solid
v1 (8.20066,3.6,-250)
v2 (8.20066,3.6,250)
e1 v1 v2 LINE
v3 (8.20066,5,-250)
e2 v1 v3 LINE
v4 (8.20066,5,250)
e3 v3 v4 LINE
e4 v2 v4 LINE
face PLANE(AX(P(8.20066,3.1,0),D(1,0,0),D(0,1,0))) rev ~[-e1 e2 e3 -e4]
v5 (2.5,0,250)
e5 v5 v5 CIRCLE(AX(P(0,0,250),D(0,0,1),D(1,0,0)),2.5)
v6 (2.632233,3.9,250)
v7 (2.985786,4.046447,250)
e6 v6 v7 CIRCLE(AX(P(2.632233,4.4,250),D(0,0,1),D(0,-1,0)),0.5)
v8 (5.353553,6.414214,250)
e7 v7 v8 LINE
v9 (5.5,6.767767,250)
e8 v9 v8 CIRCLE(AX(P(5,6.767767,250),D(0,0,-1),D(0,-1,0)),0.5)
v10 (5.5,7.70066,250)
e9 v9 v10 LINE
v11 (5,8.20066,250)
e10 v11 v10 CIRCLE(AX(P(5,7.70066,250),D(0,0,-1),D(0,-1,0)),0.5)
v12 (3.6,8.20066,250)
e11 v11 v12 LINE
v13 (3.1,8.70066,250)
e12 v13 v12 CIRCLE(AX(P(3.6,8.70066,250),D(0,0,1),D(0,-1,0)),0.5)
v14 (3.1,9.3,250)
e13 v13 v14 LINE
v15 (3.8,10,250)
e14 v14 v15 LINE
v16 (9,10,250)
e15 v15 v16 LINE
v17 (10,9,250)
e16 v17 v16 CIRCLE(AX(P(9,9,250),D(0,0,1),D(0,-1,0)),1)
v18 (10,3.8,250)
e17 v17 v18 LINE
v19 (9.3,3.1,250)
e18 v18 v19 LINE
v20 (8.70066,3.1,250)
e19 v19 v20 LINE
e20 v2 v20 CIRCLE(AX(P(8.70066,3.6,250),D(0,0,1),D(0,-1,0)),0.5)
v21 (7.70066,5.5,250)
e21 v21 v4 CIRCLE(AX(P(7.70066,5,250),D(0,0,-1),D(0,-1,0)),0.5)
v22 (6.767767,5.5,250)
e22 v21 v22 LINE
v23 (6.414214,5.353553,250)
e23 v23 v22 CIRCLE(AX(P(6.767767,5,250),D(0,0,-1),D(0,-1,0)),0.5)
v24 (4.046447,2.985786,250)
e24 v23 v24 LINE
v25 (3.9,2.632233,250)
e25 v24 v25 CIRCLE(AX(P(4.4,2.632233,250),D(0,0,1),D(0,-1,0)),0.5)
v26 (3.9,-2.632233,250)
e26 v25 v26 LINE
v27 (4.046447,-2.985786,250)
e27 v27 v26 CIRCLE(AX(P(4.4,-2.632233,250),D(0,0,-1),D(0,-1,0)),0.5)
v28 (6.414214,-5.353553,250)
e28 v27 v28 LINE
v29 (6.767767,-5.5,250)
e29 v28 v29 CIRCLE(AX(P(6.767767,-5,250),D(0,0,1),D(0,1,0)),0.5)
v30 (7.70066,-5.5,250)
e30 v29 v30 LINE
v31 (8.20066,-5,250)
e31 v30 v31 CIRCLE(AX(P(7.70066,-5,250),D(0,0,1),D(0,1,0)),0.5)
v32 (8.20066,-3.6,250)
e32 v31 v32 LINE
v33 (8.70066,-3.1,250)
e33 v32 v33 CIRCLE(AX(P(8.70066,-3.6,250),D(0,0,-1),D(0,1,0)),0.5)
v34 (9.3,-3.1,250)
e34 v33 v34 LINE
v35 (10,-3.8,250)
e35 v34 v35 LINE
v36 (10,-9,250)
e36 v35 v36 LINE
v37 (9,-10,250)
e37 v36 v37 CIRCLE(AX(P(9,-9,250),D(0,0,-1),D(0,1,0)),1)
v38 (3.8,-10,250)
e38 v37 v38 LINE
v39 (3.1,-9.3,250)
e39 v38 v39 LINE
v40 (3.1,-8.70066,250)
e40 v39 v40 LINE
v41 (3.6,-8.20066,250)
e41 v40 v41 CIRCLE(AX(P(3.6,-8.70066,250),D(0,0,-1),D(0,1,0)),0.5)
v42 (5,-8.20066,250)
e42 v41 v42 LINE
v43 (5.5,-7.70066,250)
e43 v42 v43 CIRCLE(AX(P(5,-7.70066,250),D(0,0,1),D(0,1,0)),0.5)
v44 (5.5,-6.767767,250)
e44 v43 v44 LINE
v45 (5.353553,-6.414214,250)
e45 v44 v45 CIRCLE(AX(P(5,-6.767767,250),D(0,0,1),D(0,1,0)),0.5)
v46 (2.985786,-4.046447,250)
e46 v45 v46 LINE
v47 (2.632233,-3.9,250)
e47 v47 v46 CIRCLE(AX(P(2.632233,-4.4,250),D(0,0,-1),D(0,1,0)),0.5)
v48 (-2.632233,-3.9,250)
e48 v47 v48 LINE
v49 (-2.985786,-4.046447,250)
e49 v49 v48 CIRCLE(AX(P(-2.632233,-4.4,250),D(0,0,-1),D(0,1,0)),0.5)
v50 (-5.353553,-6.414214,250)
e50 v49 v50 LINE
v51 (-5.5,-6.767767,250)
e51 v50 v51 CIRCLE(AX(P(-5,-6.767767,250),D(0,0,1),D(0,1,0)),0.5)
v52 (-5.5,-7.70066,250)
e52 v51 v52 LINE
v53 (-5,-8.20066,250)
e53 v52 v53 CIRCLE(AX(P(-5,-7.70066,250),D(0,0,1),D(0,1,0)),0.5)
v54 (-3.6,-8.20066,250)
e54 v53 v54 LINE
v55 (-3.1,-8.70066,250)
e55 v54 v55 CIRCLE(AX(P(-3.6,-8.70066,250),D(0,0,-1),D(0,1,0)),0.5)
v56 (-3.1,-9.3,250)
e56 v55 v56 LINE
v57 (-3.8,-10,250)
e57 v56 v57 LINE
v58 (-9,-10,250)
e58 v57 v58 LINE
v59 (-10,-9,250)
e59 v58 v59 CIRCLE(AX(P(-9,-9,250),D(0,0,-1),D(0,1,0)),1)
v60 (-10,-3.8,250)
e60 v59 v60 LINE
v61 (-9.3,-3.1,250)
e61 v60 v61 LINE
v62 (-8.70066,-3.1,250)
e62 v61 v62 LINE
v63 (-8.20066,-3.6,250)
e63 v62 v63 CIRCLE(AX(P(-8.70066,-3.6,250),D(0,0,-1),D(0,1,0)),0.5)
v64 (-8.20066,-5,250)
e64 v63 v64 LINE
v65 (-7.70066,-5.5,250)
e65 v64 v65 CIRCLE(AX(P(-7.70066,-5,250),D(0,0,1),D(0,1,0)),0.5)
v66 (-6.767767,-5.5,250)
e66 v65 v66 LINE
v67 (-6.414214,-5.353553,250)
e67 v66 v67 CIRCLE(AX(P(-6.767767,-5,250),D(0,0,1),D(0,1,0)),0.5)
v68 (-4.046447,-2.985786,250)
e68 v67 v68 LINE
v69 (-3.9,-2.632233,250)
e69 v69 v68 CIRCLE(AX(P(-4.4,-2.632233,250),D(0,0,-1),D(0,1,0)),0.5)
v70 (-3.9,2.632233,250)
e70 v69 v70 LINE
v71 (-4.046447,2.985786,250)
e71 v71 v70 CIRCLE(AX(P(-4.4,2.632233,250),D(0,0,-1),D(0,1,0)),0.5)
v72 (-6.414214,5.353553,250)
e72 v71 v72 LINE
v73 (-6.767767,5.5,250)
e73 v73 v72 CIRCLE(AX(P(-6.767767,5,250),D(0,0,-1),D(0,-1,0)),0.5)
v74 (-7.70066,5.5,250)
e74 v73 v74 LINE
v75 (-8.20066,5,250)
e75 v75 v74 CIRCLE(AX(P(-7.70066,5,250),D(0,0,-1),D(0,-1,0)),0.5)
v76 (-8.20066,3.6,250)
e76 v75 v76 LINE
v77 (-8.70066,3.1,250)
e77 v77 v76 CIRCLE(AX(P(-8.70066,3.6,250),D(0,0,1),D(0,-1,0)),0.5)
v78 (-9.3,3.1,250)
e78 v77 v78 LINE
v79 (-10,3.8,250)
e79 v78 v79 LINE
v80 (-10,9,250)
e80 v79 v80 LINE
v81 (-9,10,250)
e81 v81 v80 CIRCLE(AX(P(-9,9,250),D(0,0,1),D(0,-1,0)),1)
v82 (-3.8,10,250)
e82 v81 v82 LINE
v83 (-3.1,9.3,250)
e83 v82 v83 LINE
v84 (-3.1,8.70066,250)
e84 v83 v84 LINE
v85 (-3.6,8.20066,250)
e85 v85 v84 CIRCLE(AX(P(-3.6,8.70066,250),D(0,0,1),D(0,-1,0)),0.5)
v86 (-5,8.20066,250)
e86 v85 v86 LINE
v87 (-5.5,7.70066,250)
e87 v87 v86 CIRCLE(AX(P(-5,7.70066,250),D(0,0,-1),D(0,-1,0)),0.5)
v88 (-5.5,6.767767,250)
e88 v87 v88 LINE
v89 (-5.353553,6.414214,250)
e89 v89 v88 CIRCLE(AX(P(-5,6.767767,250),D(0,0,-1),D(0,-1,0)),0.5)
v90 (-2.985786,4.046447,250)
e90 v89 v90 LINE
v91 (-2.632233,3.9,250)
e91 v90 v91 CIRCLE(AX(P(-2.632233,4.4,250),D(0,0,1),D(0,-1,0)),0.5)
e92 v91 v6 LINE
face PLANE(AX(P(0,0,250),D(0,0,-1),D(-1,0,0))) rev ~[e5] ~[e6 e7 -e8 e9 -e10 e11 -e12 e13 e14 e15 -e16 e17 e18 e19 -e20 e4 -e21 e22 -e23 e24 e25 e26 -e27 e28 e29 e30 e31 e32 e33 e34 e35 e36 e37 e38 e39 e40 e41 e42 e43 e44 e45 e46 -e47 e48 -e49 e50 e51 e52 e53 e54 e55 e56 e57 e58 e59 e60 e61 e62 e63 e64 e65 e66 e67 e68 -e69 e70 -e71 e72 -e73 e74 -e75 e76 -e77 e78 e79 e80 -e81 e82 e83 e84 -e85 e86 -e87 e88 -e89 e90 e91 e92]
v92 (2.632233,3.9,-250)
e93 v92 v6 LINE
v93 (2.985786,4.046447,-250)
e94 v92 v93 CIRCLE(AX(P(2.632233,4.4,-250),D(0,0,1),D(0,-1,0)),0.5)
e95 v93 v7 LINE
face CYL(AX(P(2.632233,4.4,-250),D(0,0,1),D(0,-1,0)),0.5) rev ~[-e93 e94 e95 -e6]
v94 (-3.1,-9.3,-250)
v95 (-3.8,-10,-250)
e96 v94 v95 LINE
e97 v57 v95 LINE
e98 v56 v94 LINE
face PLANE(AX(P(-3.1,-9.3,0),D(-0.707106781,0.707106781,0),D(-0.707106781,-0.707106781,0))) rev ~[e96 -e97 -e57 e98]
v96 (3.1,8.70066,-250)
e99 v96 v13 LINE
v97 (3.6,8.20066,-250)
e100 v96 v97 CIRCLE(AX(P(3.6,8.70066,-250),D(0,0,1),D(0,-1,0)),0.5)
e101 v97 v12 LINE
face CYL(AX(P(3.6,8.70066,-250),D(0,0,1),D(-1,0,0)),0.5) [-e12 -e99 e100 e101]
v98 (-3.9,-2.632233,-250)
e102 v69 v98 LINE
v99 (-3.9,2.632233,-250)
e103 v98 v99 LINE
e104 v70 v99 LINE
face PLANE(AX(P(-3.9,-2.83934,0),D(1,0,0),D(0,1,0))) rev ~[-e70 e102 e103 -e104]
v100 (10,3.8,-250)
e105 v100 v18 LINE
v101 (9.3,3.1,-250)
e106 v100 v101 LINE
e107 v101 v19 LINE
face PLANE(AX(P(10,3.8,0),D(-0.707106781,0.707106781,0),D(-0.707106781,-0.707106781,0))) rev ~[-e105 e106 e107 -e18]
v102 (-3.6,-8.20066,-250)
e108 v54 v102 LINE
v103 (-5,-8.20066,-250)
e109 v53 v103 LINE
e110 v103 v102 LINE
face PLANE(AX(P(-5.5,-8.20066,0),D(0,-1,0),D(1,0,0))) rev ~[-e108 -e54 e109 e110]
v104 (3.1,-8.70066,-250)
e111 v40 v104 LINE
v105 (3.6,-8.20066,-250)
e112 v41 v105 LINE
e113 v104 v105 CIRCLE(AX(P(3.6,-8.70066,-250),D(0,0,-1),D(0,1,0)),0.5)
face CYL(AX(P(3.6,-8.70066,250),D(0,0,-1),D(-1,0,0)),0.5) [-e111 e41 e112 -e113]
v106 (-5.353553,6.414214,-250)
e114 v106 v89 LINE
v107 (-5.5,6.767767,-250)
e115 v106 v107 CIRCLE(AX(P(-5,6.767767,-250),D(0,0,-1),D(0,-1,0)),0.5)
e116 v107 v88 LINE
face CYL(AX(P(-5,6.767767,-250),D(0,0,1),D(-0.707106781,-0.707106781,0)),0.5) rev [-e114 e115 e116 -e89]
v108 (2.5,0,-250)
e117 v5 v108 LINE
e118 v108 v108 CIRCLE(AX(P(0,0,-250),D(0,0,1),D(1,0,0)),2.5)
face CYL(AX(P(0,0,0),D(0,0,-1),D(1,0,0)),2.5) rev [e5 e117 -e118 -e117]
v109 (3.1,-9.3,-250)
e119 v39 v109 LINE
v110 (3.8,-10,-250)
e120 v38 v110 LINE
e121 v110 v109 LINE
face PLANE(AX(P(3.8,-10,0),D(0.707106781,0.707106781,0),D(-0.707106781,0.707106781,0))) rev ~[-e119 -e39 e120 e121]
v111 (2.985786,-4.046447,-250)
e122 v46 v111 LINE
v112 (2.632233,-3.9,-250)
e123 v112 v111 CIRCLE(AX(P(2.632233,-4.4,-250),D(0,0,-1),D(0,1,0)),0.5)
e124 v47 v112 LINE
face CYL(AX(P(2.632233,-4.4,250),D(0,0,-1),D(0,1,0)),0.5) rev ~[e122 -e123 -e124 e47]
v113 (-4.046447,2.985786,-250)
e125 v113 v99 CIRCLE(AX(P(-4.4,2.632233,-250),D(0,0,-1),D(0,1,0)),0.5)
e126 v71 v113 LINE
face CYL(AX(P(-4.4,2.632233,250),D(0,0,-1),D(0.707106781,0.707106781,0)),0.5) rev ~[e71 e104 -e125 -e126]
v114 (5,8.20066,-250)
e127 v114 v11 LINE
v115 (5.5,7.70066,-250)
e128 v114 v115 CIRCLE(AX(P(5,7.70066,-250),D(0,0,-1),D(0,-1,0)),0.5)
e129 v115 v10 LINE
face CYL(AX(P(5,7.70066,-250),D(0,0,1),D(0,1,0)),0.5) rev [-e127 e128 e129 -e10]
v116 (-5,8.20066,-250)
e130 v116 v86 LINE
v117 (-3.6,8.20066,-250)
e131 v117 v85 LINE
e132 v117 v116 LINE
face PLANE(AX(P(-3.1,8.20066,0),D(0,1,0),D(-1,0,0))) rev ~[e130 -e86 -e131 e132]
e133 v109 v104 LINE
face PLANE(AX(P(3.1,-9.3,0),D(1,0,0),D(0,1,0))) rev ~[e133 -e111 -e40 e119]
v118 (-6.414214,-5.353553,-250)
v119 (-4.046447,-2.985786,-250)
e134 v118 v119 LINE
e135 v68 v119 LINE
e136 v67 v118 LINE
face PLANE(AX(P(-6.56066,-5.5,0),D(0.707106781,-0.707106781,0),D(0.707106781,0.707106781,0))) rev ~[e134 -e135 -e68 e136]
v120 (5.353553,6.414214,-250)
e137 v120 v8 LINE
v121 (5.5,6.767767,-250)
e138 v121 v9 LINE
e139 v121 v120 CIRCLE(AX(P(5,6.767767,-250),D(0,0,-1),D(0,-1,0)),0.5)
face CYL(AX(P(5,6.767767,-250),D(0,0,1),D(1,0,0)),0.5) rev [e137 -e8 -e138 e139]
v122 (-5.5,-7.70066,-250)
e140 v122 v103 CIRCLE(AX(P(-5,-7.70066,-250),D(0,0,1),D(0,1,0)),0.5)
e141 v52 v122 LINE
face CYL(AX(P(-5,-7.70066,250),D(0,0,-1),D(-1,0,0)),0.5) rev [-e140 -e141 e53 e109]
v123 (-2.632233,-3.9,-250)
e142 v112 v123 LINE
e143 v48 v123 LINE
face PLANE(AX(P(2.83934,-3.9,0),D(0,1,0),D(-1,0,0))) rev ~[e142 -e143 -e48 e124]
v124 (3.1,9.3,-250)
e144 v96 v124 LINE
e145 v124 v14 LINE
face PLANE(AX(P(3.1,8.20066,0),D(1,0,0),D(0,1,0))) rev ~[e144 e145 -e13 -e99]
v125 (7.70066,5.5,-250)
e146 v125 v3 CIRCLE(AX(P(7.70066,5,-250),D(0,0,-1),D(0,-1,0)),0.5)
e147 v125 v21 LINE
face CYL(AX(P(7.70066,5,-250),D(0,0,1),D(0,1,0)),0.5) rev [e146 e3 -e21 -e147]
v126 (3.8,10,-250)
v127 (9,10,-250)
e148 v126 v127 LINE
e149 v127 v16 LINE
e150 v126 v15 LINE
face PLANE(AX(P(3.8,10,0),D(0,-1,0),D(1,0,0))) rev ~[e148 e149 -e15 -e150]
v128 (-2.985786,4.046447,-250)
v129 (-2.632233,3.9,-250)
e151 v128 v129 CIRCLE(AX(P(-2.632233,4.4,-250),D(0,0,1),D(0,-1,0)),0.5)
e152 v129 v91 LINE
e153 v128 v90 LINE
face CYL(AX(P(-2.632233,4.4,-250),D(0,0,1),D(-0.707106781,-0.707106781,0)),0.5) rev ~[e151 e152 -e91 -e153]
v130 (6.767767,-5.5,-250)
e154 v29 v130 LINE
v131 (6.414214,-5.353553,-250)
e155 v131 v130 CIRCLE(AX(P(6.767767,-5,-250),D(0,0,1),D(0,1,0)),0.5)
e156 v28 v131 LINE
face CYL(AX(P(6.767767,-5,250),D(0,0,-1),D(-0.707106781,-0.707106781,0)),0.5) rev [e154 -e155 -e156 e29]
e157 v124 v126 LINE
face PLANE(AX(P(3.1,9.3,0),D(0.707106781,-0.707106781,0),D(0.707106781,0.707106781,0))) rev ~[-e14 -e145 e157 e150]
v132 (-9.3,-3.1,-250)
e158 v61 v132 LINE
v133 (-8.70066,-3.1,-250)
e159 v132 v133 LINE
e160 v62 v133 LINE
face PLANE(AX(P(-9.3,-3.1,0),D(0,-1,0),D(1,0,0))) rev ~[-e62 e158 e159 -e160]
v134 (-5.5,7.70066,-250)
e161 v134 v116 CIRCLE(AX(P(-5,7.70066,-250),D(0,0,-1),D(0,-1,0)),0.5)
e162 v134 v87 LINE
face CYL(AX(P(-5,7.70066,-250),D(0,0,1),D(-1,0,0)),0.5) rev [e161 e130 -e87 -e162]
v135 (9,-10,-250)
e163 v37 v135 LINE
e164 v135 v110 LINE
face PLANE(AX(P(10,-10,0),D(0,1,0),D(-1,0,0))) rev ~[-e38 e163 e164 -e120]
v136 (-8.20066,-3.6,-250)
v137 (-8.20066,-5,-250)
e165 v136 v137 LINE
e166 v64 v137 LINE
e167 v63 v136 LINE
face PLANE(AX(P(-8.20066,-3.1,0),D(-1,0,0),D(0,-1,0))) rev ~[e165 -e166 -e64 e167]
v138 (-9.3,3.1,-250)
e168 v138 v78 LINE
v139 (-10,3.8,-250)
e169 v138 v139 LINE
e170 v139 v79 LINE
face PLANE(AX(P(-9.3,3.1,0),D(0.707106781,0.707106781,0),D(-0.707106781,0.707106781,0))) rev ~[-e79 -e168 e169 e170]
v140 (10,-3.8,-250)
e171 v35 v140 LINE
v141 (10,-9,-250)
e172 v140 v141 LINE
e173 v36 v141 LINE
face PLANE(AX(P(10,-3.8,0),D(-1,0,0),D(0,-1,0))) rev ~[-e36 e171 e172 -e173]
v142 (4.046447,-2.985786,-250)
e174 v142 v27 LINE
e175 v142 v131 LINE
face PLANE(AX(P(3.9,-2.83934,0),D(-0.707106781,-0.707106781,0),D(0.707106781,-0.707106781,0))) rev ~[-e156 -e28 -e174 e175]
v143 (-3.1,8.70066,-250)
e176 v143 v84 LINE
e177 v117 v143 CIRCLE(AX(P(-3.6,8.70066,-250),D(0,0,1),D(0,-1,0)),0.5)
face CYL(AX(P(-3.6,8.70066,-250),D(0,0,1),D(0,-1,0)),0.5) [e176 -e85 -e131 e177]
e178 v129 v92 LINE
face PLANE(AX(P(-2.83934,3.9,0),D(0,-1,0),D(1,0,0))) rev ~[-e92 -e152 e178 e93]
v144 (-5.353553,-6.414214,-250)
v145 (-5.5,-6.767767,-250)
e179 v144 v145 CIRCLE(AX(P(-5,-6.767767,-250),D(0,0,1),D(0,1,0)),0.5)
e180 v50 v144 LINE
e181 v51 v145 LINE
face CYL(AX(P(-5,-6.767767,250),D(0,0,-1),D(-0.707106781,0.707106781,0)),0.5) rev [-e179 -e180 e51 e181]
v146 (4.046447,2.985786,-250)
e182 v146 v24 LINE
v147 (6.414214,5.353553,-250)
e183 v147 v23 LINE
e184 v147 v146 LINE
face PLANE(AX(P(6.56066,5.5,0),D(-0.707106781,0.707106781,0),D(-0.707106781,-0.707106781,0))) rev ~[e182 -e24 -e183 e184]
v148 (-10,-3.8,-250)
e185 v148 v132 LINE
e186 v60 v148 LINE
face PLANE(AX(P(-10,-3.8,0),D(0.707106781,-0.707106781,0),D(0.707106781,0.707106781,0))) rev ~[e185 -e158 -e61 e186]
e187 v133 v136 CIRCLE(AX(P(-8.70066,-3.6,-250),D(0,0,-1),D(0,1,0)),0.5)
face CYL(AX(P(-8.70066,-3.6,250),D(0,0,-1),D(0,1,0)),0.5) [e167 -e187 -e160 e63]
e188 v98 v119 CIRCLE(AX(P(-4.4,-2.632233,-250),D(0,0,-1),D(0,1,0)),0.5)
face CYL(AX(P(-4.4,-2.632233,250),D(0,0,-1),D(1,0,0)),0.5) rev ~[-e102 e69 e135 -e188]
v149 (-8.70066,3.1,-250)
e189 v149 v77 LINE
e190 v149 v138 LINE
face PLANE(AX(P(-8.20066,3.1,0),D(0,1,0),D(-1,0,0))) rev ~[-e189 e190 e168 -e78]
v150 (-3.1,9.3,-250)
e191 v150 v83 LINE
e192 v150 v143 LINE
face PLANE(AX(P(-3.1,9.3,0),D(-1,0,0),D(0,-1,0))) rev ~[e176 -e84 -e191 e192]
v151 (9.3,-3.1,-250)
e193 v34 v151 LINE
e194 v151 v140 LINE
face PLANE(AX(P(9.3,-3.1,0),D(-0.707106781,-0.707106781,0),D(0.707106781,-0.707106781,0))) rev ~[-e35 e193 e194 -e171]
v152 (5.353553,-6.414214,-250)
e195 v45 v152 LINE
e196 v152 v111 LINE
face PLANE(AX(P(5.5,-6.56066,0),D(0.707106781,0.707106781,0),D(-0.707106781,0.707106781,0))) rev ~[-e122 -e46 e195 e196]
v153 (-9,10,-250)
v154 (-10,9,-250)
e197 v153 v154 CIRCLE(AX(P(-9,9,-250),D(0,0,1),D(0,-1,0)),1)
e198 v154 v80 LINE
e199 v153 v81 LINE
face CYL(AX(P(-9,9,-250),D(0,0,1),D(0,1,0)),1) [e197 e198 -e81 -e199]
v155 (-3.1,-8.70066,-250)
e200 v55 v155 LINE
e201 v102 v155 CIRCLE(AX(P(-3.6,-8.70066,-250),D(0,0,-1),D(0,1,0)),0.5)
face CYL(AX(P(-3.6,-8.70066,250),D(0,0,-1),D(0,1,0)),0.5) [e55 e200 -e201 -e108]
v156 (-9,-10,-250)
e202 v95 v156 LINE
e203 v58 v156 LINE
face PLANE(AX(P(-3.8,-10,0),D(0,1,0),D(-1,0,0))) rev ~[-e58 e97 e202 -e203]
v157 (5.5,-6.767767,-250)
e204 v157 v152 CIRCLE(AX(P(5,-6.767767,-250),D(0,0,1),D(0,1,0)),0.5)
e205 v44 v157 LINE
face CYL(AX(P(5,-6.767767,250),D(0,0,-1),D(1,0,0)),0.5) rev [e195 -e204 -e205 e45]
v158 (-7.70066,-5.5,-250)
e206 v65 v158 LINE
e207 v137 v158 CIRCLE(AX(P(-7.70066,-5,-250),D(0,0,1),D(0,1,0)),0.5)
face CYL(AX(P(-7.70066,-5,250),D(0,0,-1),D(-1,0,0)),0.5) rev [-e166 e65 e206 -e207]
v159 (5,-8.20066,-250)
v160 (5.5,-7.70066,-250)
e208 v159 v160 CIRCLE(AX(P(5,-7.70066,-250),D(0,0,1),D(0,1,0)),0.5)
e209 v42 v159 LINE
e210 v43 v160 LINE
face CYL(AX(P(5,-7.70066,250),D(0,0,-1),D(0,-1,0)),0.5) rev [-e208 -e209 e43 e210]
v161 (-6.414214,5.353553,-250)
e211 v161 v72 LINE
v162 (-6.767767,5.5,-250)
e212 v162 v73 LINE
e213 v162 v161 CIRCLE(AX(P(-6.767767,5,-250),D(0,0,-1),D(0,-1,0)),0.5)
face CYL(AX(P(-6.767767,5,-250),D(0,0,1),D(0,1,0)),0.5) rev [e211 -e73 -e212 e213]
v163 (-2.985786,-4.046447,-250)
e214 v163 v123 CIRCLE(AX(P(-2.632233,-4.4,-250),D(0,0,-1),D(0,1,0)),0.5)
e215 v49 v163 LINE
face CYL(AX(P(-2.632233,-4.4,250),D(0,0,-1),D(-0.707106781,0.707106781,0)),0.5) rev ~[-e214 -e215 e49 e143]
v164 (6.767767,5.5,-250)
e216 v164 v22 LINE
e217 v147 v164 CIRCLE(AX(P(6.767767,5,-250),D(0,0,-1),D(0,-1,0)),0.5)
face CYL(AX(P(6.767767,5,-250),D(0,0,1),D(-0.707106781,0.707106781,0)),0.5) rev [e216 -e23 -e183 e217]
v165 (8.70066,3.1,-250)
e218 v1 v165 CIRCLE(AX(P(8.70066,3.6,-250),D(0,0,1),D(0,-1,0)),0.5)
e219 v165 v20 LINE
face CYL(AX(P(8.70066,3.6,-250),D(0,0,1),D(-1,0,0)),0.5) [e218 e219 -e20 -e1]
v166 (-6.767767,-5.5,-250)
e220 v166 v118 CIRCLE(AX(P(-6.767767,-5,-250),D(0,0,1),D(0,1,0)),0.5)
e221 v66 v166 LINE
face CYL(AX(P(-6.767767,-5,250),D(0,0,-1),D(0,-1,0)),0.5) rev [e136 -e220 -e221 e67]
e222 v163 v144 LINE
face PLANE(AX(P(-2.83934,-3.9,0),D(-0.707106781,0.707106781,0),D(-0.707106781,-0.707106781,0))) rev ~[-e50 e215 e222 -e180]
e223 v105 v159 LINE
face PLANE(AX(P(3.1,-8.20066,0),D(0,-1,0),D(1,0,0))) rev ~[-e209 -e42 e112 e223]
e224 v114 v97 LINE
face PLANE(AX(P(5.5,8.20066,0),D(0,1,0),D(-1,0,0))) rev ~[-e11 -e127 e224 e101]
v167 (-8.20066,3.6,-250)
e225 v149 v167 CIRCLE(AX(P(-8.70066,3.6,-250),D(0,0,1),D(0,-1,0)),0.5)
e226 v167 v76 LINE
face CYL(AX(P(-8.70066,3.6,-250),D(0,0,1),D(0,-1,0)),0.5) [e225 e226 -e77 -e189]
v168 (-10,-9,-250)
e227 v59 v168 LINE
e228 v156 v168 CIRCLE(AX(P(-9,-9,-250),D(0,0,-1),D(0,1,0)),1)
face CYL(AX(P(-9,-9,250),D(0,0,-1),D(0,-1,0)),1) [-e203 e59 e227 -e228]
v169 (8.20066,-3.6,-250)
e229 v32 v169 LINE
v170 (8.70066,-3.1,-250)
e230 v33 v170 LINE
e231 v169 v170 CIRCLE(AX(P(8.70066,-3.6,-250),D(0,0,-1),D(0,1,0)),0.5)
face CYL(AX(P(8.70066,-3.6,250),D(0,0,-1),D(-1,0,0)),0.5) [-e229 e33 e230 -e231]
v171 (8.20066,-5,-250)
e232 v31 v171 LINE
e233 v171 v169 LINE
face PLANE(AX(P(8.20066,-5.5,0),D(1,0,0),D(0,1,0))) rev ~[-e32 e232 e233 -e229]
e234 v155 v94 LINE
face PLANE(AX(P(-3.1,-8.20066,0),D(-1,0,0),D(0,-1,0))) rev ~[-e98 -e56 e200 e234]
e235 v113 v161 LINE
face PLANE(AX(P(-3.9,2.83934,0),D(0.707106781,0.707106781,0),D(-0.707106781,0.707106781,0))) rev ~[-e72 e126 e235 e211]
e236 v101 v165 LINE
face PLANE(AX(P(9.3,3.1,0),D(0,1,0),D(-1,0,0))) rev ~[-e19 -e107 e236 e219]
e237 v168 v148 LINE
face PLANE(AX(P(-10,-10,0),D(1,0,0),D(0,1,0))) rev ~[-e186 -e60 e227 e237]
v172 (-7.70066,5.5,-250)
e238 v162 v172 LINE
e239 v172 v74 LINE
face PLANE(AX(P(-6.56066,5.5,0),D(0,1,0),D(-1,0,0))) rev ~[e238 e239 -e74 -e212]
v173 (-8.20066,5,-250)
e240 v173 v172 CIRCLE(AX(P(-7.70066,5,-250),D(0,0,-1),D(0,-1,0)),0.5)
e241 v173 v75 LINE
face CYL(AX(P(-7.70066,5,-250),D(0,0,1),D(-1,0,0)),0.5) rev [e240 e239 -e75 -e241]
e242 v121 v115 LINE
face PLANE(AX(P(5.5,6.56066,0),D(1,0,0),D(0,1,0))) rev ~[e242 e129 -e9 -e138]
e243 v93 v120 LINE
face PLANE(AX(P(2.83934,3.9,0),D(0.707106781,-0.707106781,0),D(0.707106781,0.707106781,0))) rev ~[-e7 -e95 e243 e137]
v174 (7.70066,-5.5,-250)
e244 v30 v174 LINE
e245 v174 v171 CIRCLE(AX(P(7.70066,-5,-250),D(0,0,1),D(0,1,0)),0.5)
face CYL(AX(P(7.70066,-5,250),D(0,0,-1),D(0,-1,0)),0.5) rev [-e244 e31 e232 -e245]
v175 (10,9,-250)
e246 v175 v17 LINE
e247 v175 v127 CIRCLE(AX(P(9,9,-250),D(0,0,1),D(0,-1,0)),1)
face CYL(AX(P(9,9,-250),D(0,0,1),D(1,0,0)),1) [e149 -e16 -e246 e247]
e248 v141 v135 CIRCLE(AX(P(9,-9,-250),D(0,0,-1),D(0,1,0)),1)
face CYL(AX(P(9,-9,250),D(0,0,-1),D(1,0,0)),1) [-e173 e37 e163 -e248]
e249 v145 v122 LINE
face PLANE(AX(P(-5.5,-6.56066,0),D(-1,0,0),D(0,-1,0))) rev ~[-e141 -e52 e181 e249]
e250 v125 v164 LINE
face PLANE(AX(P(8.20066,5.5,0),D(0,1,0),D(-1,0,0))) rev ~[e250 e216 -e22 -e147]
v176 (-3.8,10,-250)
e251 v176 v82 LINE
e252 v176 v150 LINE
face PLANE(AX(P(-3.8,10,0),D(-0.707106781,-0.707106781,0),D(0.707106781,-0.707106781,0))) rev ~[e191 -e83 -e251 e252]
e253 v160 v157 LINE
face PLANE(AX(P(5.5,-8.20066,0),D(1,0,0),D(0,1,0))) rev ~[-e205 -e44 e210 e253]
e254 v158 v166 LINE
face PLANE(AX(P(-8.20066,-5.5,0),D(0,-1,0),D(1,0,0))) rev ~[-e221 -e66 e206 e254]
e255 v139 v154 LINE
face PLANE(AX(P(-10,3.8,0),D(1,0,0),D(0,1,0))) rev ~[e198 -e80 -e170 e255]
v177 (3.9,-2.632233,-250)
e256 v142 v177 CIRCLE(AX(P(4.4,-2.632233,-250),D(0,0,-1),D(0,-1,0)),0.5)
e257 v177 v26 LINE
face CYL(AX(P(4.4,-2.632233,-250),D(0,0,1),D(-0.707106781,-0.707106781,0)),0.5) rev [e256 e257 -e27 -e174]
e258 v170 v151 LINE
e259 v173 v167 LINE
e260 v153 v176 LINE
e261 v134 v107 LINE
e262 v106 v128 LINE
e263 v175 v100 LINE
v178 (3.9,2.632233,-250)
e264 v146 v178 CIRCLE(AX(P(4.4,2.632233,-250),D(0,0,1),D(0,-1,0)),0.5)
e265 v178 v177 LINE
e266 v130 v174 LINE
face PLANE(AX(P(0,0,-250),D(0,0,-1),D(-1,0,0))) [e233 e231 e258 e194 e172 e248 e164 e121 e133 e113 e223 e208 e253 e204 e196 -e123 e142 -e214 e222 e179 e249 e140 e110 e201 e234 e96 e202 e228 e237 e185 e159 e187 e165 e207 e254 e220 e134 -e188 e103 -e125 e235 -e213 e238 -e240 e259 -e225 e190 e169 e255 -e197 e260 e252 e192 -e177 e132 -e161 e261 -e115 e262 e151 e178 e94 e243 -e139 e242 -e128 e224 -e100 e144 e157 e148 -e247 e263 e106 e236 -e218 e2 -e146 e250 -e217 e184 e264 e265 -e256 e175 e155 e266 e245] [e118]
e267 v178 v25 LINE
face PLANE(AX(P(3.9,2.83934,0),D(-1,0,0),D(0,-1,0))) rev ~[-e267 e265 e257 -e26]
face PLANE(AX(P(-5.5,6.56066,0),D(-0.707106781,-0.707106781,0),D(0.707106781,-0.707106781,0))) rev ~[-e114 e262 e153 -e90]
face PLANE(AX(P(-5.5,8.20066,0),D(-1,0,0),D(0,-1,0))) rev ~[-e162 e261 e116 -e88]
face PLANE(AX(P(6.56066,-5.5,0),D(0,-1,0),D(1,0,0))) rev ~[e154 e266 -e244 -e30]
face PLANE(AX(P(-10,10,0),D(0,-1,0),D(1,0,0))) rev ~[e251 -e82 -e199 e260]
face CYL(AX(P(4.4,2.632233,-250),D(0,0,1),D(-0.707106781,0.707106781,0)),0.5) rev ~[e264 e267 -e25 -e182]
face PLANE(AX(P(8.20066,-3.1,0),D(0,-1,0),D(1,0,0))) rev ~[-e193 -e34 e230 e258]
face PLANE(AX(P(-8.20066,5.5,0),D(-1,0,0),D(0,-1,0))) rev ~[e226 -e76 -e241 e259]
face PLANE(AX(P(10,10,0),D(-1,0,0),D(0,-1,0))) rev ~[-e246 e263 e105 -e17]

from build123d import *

# Parameters (mm, degrees)
SKETCH1_R           = 2.5
BOSS_EXTRUDE1_DEPTH = 250
FILLET1_R           = 0.5
FILLET2_R           = 0.5
FILLET3_R           = 1


with BuildPart() as part:
    # Sketch1 → Boss-Extrude1 (new, symmetric)
    with BuildSketch(Plane.XY):
        Polygon((3.9, -2.839339828), (6.560660172, -5.5), (8.200660172, -5.5), (8.200660172, -3.1), (9.3, -3.1), (10, -3.8), (10, -10), (3.8, -10), (3.1, -9.3), (3.1, -8.200660172), (5.5, -8.200660172), (5.5, -6.560660172), (2.839339828, -3.9), (-2.839339828, -3.9), (-5.5, -6.560660172), (-5.5, -8.200660172), (-3.1, -8.200660172), (-3.1, -9.3), (-3.8, -10), (-10, -10), (-10, -3.8), (-9.3, -3.1), (-8.200660172, -3.1), (-8.200660172, -5.5), (-6.560660172, -5.5), (-3.9, -2.839339828), (-3.9, 2.839339828), (-6.560660172, 5.5), (-8.200660172, 5.5), (-8.200660172, 3.1), (-9.3, 3.1), (-10, 3.8), (-10, 10), (-3.8, 10), (-3.1, 9.3), (-3.1, 8.200660172), (-5.5, 8.200660172), (-5.5, 6.560660172), (-2.839339828, 3.9), (2.839339828, 3.9), (5.5, 6.560660172), (5.5, 8.200660172), (3.1, 8.200660172), (3.1, 9.3), (3.8, 10), (10, 10), (10, 3.8), (9.3, 3.1), (8.200660172, 3.1), (8.200660172, 5.5), (6.560660172, 5.5), (3.9, 2.839339828), align=None)
        Circle(SKETCH1_R, mode=Mode.SUBTRACT)
    extrude(amount=BOSS_EXTRUDE1_DEPTH, both=True)

    # Fillet1
    fillet1_edges = [part.edges().sort_by_distance(p)[0] for p in [
        (-2.839339828, 3.9, 0),
        (2.839339828, 3.9, 0),
        (3.9, 2.839339828, 0),
        (3.9, -2.839339828, 0),
        (2.839339828, -3.9, 0),
        (-2.839339828, -3.9, 0),
        (-3.9, -2.839339828, 0),
        (-3.9, 2.839339828, 0),
    ]]
    fillet(fillet1_edges, radius=FILLET1_R)

    # Fillet2
    fillet2_edges = [part.edges().sort_by_distance(p)[0] for p in [
        (-5.5, 6.560660172, 0),
        (5.5, 6.560660172, 0),
        (5.5, 8.200660172, 0),
        (3.1, 8.200660172, 0),
        (8.200660172, 3.1, 0),
        (8.200660172, 5.5, 0),
        (6.560660172, 5.5, 0),
        (6.560660172, -5.5, 0),
        (8.200660172, -5.5, 0),
        (8.200660172, -3.1, 0),
        (3.1, -8.200660172, 0),
        (5.5, -8.200660172, 0),
        (5.5, -6.560660172, 0),
        (-5.5, -6.560660172, 0),
        (-5.5, -8.200660172, 0),
        (-3.1, -8.200660172, 0),
        (-8.200660172, -3.1, 0),
        (-8.200660172, -5.5, 0),
        (-6.560660172, -5.5, 0),
        (-6.560660172, 5.5, 0),
        (-8.200660172, 5.5, 0),
        (-8.200660172, 3.1, 0),
        (-3.1, 8.200660172, 0),
        (-5.5, 8.200660172, 0),
    ]]
    fillet(fillet2_edges, radius=FILLET2_R)

    # Fillet3
    fillet3_edges = [part.edges().sort_by_distance(p)[0] for p in [
        (10, 10, 0),
        (10, -10, 0),
        (-10, -10, 0),
        (-10, 10, 0),
    ]]
    fillet(fillet3_edges, radius=FILLET3_R)


solid = part.part
